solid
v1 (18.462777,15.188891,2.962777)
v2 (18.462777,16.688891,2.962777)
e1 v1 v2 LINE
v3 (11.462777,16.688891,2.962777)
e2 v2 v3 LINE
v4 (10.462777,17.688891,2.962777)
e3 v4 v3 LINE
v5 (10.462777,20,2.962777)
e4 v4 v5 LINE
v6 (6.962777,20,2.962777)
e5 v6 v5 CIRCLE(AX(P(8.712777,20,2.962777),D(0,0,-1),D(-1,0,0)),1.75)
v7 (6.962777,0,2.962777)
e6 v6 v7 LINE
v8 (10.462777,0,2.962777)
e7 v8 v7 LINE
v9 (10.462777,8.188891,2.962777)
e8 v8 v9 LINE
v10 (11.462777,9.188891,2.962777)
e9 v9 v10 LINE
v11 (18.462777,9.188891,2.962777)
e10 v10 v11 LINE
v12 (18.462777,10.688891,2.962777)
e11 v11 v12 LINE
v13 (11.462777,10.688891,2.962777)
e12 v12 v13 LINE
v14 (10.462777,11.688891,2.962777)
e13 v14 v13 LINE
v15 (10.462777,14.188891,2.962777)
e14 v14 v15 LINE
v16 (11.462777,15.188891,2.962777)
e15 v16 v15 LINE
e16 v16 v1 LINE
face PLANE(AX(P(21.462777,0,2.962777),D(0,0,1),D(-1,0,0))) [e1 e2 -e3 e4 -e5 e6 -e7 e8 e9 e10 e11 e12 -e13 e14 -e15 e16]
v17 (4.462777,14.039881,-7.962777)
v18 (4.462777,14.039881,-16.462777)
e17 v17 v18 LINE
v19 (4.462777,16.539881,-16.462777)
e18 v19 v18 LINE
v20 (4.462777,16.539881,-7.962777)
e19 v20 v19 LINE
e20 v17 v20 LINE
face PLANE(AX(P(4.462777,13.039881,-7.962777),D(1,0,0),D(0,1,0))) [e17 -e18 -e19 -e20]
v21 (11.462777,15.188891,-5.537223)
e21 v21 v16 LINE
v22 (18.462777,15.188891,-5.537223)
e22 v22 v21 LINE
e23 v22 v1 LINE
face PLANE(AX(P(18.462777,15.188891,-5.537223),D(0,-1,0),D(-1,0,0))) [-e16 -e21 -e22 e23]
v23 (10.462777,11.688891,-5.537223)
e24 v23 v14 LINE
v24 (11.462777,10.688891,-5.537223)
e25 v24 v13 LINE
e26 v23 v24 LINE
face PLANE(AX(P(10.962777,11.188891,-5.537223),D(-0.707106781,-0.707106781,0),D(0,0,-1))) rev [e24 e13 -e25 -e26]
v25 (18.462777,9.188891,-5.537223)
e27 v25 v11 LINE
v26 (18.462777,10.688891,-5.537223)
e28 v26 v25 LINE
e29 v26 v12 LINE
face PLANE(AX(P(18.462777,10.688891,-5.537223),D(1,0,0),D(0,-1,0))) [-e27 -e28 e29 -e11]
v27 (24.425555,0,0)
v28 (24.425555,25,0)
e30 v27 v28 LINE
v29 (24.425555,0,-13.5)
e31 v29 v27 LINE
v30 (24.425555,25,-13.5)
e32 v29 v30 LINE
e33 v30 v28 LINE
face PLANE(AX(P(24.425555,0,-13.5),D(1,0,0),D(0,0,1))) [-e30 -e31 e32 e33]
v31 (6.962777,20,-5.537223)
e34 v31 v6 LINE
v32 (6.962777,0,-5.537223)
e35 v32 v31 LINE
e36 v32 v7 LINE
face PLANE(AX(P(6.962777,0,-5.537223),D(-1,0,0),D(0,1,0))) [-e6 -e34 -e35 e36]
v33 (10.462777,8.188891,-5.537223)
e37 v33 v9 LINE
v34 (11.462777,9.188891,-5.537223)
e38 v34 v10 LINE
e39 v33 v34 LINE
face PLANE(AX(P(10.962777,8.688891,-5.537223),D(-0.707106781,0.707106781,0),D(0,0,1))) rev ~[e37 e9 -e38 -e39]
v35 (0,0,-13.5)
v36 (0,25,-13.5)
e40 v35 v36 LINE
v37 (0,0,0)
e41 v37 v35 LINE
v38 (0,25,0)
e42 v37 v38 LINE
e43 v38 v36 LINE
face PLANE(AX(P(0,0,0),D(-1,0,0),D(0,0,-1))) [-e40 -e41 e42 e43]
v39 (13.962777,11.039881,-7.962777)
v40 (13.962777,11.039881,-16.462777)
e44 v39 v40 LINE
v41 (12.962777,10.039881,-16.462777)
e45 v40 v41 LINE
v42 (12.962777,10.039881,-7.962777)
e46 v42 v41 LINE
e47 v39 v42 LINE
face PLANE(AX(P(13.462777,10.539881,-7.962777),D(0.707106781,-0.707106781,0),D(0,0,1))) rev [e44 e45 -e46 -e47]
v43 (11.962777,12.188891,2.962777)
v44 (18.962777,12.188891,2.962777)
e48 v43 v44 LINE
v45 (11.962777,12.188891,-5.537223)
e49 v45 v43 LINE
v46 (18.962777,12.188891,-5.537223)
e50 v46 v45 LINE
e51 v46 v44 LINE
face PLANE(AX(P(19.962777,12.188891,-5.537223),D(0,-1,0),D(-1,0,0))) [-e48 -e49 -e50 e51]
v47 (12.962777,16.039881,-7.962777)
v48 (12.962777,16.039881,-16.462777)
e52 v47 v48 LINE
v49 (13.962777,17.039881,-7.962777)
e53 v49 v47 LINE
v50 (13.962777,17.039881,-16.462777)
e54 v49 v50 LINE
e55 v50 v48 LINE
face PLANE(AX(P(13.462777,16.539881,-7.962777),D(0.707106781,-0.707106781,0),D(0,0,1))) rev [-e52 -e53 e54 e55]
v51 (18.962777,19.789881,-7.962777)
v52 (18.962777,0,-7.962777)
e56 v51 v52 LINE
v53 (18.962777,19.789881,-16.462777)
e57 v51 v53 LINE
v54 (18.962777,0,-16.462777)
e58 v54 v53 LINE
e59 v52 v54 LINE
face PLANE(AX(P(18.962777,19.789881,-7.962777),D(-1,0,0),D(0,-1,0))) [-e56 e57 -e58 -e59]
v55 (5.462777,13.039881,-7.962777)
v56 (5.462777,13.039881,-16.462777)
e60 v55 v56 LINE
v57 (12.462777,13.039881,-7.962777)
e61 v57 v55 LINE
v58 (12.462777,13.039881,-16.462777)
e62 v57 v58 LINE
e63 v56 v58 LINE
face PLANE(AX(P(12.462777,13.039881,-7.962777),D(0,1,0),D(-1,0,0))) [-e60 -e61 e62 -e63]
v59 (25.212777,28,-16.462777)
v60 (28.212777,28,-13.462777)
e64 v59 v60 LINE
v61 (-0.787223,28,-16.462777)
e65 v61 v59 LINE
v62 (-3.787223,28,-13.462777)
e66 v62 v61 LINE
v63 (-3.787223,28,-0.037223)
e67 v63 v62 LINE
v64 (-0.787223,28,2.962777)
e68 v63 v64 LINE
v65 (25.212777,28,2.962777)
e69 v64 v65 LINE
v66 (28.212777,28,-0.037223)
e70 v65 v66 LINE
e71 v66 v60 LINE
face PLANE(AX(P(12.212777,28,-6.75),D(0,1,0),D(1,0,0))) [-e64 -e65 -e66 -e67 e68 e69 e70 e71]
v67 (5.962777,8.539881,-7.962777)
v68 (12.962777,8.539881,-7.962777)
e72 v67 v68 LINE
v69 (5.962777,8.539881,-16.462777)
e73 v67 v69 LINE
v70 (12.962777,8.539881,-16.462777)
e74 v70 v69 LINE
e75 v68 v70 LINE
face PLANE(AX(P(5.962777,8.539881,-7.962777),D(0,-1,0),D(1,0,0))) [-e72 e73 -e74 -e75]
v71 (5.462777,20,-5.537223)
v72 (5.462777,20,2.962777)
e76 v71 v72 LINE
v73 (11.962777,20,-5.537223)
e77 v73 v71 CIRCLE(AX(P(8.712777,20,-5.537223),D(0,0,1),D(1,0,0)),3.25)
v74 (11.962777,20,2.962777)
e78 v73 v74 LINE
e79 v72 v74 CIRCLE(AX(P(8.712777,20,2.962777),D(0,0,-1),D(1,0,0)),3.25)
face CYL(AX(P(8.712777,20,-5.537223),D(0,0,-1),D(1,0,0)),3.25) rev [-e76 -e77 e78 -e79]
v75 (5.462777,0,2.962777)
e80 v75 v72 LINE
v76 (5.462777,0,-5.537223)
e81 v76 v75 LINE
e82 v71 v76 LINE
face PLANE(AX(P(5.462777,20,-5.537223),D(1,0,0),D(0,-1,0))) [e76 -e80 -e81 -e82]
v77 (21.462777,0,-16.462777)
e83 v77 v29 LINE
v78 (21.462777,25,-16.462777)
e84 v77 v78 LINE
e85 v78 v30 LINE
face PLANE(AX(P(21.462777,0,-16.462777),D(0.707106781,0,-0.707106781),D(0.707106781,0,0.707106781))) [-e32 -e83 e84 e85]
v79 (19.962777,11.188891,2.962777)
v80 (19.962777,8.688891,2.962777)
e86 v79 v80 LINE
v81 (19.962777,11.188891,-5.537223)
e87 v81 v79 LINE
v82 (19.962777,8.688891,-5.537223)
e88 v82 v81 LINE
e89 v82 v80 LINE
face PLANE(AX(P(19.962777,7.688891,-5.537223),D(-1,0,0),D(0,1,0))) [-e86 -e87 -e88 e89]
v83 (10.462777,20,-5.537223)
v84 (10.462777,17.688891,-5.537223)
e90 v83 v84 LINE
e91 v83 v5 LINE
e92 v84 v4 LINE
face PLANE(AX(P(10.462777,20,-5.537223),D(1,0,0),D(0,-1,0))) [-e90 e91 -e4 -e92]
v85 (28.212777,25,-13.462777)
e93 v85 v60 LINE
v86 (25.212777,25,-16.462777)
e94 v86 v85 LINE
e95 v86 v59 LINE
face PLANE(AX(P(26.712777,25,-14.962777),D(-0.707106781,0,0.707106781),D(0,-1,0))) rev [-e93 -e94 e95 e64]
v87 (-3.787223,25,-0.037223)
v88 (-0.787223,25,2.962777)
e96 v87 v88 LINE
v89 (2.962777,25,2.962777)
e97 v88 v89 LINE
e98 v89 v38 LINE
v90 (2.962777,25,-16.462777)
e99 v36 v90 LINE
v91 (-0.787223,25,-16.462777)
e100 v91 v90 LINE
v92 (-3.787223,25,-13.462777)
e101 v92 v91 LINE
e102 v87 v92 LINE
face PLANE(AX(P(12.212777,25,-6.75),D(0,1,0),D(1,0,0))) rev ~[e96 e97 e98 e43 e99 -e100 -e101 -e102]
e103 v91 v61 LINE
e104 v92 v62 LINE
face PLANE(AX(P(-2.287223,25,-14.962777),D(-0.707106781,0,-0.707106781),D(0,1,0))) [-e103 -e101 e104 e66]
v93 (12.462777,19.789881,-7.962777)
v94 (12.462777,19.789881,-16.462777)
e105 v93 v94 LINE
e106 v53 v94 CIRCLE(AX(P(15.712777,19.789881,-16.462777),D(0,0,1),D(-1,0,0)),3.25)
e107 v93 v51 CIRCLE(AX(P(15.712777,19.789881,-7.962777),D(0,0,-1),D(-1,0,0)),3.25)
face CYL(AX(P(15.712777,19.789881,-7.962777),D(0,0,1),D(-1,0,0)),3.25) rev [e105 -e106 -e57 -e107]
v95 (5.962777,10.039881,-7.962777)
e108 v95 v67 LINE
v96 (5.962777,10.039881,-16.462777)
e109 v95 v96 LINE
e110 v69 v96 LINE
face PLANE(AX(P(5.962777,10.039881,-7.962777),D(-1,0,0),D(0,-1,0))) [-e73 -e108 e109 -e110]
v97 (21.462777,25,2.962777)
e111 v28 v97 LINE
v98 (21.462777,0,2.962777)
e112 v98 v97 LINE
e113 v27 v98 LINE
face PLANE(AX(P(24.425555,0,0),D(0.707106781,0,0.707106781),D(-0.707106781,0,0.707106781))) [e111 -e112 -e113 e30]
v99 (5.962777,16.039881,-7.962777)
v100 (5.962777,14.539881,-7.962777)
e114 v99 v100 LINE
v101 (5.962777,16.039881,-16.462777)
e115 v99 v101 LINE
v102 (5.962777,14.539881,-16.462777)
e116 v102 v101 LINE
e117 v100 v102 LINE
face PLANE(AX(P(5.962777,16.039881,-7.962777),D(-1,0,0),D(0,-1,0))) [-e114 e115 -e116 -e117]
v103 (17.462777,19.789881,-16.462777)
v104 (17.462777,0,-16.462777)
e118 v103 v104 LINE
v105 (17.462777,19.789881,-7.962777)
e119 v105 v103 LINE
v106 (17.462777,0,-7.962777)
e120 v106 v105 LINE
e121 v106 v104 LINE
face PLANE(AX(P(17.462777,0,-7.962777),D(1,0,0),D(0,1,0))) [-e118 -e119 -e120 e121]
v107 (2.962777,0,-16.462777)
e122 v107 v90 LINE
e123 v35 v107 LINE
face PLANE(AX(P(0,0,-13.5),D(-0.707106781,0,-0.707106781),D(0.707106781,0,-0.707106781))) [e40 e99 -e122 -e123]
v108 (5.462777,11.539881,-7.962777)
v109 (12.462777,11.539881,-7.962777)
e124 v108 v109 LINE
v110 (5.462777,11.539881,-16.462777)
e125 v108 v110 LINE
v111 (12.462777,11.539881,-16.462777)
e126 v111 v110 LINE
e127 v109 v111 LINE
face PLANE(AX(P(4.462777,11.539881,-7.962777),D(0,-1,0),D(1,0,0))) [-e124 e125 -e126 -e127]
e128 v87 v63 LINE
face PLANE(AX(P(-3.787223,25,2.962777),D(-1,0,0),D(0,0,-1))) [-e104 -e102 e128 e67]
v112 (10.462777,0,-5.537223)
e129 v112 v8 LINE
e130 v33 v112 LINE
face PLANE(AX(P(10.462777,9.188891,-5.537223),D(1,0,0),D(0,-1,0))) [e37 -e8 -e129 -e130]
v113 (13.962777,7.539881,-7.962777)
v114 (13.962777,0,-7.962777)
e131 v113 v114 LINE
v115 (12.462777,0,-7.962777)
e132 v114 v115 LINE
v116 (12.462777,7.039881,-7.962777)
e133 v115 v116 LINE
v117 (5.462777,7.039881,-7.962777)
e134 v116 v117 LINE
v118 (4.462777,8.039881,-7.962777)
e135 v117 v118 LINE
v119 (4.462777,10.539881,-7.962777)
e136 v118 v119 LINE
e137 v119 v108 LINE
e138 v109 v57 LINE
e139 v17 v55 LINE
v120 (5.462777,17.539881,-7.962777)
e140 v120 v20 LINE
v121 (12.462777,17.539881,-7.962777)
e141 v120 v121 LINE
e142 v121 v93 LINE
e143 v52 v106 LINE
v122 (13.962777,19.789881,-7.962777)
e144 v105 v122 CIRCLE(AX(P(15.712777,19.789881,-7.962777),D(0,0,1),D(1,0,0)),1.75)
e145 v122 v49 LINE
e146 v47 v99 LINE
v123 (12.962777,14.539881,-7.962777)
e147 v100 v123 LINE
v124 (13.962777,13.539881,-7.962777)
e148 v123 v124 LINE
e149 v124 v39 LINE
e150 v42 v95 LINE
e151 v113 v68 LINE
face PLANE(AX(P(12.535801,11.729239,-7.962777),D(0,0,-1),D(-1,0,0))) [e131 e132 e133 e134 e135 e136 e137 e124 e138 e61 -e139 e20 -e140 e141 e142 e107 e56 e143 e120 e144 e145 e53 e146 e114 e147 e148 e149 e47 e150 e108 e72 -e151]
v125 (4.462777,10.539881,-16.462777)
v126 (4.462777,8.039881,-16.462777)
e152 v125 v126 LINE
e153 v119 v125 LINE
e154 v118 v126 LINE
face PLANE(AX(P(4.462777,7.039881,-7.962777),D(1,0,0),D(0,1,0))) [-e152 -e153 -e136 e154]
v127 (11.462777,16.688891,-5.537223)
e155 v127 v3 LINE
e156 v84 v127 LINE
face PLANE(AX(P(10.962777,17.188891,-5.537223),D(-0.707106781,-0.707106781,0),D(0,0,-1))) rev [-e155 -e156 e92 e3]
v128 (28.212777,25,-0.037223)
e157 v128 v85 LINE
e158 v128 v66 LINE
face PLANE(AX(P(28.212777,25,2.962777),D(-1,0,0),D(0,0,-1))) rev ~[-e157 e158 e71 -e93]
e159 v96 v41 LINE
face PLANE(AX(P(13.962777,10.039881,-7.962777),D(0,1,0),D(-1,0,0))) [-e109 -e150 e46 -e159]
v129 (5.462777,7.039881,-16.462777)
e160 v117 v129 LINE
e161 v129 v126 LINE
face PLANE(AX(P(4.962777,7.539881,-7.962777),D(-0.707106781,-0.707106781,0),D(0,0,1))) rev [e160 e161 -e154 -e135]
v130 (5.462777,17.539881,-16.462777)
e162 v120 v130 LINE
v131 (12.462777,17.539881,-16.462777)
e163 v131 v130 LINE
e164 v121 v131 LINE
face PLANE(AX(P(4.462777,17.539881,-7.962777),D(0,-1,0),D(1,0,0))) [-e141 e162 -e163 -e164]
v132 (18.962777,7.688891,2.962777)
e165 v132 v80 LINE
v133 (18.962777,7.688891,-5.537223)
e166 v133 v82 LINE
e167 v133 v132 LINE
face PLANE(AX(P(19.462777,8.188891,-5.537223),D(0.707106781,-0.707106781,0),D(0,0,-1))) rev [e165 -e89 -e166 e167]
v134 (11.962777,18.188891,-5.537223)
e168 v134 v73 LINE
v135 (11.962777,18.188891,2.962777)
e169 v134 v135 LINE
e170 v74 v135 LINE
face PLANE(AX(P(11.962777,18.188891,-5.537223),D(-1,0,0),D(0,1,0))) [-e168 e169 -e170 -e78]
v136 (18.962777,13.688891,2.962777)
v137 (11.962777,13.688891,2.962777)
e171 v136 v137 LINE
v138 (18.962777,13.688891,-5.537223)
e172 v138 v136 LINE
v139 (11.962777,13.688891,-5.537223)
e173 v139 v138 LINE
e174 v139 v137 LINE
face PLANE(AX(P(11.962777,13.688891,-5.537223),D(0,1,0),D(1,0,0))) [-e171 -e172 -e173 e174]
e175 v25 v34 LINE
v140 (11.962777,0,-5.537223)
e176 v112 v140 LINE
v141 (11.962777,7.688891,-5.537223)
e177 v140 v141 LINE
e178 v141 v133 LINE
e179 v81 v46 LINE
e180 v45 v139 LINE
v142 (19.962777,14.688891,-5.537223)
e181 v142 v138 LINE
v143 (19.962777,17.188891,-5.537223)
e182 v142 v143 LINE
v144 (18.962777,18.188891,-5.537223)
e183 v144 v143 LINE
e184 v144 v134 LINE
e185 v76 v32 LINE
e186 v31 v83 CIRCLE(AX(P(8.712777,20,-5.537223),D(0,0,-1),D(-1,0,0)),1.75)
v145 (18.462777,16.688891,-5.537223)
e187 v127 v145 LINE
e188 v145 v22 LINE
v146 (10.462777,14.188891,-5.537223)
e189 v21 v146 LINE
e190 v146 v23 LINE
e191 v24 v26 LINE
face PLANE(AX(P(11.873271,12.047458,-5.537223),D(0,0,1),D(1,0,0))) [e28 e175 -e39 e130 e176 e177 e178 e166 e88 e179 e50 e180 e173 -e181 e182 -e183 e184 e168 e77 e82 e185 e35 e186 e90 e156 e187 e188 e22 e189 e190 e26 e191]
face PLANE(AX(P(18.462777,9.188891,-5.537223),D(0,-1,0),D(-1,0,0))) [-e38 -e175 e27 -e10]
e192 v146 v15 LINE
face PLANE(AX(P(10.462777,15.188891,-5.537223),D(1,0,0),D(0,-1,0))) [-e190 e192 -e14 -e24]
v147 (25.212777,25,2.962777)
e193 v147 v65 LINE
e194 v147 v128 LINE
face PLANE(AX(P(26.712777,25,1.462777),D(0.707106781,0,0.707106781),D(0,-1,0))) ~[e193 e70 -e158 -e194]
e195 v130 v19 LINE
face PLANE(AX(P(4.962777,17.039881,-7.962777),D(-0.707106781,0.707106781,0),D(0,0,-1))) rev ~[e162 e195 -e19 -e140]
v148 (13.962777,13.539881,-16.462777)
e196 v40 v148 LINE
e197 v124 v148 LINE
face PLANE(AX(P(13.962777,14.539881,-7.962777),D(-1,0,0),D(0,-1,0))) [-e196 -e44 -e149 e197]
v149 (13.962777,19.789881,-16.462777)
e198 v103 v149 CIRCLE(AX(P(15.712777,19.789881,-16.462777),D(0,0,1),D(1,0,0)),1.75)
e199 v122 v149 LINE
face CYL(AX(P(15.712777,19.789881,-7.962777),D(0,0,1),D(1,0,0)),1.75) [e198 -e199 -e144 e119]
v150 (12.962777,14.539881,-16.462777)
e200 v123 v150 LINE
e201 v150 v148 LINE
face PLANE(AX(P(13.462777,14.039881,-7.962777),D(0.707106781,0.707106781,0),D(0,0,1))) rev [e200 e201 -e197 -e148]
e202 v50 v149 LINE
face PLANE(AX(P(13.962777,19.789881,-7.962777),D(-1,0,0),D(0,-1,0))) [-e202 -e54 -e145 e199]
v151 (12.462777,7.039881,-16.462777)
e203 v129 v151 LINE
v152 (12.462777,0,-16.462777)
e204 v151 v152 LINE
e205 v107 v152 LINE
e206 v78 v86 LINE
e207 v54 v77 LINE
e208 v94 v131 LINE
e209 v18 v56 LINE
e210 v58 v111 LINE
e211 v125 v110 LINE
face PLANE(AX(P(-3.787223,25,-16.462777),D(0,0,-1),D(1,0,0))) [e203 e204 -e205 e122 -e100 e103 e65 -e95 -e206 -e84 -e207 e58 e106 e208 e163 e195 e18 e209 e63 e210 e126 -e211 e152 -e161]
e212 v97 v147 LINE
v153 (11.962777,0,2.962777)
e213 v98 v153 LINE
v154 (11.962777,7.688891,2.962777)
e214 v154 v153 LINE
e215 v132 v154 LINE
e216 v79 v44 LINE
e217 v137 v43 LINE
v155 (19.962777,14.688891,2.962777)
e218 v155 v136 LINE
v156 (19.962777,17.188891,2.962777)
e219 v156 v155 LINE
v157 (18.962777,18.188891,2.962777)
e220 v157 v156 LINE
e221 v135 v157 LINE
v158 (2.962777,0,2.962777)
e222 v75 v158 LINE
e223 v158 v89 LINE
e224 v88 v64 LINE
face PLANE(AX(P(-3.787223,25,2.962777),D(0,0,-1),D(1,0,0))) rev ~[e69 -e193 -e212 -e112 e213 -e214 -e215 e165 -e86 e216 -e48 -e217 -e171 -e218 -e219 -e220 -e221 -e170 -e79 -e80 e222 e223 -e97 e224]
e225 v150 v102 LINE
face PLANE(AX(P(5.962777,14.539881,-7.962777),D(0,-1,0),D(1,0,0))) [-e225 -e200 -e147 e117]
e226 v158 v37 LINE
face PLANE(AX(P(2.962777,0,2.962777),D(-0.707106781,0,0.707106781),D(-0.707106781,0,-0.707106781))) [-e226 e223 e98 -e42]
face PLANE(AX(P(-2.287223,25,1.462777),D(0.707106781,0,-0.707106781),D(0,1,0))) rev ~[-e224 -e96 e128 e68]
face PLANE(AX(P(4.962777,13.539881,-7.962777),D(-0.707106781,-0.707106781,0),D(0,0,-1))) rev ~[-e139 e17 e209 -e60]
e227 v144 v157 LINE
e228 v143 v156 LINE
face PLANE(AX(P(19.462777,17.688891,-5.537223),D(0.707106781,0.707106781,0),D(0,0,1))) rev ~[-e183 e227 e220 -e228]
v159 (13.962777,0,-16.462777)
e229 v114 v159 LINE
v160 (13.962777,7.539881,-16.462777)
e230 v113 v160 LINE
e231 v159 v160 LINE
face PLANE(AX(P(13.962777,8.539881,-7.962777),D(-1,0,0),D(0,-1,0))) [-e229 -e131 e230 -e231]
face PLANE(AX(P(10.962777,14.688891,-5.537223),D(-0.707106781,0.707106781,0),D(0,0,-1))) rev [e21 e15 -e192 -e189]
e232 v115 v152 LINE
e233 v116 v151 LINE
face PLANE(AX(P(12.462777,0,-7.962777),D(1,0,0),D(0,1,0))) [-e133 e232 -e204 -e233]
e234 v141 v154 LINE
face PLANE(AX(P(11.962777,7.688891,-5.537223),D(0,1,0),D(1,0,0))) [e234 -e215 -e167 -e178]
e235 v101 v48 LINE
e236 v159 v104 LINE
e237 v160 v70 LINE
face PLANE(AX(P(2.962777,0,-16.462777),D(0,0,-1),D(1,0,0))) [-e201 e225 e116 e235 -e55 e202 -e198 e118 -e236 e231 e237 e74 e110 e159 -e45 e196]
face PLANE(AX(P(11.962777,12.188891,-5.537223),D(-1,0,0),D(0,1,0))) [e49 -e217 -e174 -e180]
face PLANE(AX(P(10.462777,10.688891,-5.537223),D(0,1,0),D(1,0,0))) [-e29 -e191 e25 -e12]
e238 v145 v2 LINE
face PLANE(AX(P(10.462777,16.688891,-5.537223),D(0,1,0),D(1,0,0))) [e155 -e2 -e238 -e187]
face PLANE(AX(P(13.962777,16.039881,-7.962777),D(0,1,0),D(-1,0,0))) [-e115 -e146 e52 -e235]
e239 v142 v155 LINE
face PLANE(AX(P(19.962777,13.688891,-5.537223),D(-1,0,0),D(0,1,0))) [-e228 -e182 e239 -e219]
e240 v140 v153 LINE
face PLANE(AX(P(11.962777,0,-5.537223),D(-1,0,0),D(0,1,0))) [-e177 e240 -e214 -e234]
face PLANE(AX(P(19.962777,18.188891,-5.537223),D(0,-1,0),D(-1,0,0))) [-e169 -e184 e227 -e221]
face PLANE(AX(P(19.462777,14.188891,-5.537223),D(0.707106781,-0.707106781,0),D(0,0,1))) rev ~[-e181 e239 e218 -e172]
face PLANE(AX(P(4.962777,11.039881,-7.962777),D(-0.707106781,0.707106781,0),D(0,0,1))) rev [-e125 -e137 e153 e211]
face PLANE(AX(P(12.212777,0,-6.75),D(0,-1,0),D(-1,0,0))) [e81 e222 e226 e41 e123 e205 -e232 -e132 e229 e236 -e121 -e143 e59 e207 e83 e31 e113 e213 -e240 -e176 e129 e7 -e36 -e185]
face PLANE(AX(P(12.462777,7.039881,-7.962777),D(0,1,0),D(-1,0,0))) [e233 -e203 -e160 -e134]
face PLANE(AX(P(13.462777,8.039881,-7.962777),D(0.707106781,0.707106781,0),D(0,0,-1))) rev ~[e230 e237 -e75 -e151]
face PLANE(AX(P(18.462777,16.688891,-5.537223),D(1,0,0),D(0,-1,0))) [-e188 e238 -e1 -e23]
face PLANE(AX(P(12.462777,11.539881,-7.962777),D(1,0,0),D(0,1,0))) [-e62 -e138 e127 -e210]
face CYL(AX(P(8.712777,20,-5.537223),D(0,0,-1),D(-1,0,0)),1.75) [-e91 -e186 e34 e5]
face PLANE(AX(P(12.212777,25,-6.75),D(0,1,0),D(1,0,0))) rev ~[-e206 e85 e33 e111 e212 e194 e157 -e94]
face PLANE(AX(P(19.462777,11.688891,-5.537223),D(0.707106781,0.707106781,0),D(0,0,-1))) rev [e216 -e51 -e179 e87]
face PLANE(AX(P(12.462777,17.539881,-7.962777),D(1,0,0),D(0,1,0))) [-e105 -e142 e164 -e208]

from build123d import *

# Parameters (mm, degrees)
BOSS_EXTRUDE1_DEPTH          = 25
CUT_EXTRUDE_THIN1_DEPTH      = 40.986996748
CUT_EXTRUDE_THIN1_DEPTH_BACK = 8.5
CUT_EXTRUDE_THIN3_DEPTH      = 40.986996748
CUT_EXTRUDE_THIN3_DEPTH_BACK = 8.5
SKETCH5_W                    = 32
SKETCH5_H                    = 19.425554826
BOSS_EXTRUDE2_DEPTH          = 3
CHAMFER3_SIZE                = 3
CHAMFER4_SIZE                = 1


with BuildPart() as part:
    # Sketch2 → Boss-Extrude1 (new body)
    with BuildSketch(Plane(origin=(0, 0, 0), x_dir=(1, 0, 0), z_dir=(0, 1, 0))):
        Polygon((0, 0), (0, 13.5), (2.962777413, 16.462777413), (21.462777413, 16.462777413), (24.425554826, 13.5), (24.425554826, 0), (21.462777413, -2.962777413), (2.962777413, -2.962777413), align=None)
    extrude(amount=BOSS_EXTRUDE1_DEPTH)

    # Sketch3 → Cut-Extrude-Thin1 (cut, two sides: drawn at the far end of the back side and taken through both)
    with BuildSketch(Plane.XY.offset(2.962777413).offset(-CUT_EXTRUDE_THIN1_DEPTH_BACK)):
        with BuildLine():
            Line((6.962777413, 0), (6.962777413, 20))
            ThreePointArc((6.962777413, 20), (8.712777413, 21.75), (10.462777413, 20))
            Line((10.462777413, 20), (10.462777413, 16.688890745))
            Line((10.462777413, 16.688890745), (18.462777413, 16.688890745))
            Line((18.462777413, 16.688890745), (18.462777413, 15.188890745))
            Line((18.462777413, 15.188890745), (10.462777413, 15.188890745))
            Line((10.462777413, 15.188890745), (10.462777413, 10.688890745))
            Line((10.462777413, 10.688890745), (18.462777413, 10.688890745))
            Line((18.462777413, 10.688890745), (18.462777413, 9.188890745))
            Line((18.462777413, 9.188890745), (10.462777413, 9.188890745))
            Line((10.462777413, 9.188890745), (10.462777413, 0))
            Line((10.462777413, 0), (11.962777413, 0))
            Line((11.962777413, 0), (11.962777413, 7.688890745))
            Line((11.962777413, 7.688890745), (19.962777413, 7.688890745))
            Line((19.962777413, 7.688890745), (19.962777413, 12.188890745))
            Line((19.962777413, 12.188890745), (11.962777413, 12.188890745))
            Line((11.962777413, 12.188890745), (11.962777413, 13.688890745))
            Line((11.962777413, 13.688890745), (19.962777413, 13.688890745))
            Line((19.962777413, 13.688890745), (19.962777413, 18.188890745))
            Line((19.962777413, 18.188890745), (11.962777413, 18.188890745))
            Line((11.962777413, 18.188890745), (11.962777413, 20))
            ThreePointArc((11.962777413, 20), (8.712777413, 23.25), (5.462777413, 20))
            Line((5.462777413, 20), (5.462777413, 0))
            Line((5.462777413, 0), (6.962777413, 0))
        make_face()
    extrude(amount=CUT_EXTRUDE_THIN1_DEPTH + CUT_EXTRUDE_THIN1_DEPTH_BACK, mode=Mode.SUBTRACT)

    # Sketch4 → Cut-Extrude-Thin3 (cut, two sides: drawn at the far end of the back side and taken through both)
    with BuildSketch(Plane(origin=(0, 0, -16.462777413), x_dir=(-1, 0, 0), z_dir=(0, 0, -1)).offset(-CUT_EXTRUDE_THIN3_DEPTH_BACK)):
        with BuildLine():
            Line((-17.462777413, 0), (-17.462777413, 19.789881458))
            ThreePointArc((-17.462777413, 19.789881458), (-15.712777413, 21.539881458), (-13.962777413, 19.789881458))
            Line((-13.962777413, 19.789881458), (-13.962777413, 16.039881458))
            Line((-13.962777413, 16.039881458), (-5.962777413, 16.039881458))
            Line((-5.962777413, 16.039881458), (-5.962777413, 14.539881458))
            Line((-5.962777413, 14.539881458), (-13.962777413, 14.539881458))
            Line((-13.962777413, 14.539881458), (-13.962777413, 10.039881458))
            Line((-13.962777413, 10.039881458), (-5.962777413, 10.039881458))
            Line((-5.962777413, 10.039881458), (-5.962777413, 8.539881458))
            Line((-5.962777413, 8.539881458), (-13.962777413, 8.539881458))
            Line((-13.962777413, 8.539881458), (-13.962777413, 0))
            Line((-13.962777413, 0), (-12.462777413, 0))
            Line((-12.462777413, 0), (-12.462777413, 7.039881458))
            Line((-12.462777413, 7.039881458), (-4.462777413, 7.039881458))
            Line((-4.462777413, 7.039881458), (-4.462777413, 11.539881458))
            Line((-4.462777413, 11.539881458), (-12.462777413, 11.539881458))
            Line((-12.462777413, 11.539881458), (-12.462777413, 13.039881458))
            Line((-12.462777413, 13.039881458), (-4.462777413, 13.039881458))
            Line((-4.462777413, 13.039881458), (-4.462777413, 17.539881458))
            Line((-4.462777413, 17.539881458), (-12.462777413, 17.539881458))
            Line((-12.462777413, 17.539881458), (-12.462777413, 19.789881458))
            ThreePointArc((-12.462777413, 19.789881458), (-15.712777413, 23.039881458), (-18.962777413, 19.789881458))
            Line((-18.962777413, 19.789881458), (-18.962777413, 0))
            Line((-18.962777413, 0), (-17.462777413, 0))
        make_face()
    extrude(amount=CUT_EXTRUDE_THIN3_DEPTH + CUT_EXTRUDE_THIN3_DEPTH_BACK, mode=Mode.SUBTRACT)

    # Sketch5 → Boss-Extrude2 (add)
    with BuildSketch(Plane(origin=(0, 25, 0), x_dir=(1, 0, 0), z_dir=(0, 1, 0))):
        with Locations((12.212777413, 6.75)):
            Rectangle(SKETCH5_W, SKETCH5_H)
    extrude(amount=BOSS_EXTRUDE2_DEPTH)

    # Chamfer3
    chamfer3_edges = [part.edges().sort_by_distance(p)[0] for p in [
        (28.212777413, 26.5, 2.962777413),
        (28.212777413, 26.5, -16.462777413),
        (-3.787222587, 26.5, -16.462777413),
        (-3.787222587, 26.5, 2.962777413),
    ]]
    chamfer(chamfer3_edges, length=CHAMFER3_SIZE)

    # Chamfer4
    chamfer4_edges = [part.edges().sort_by_distance(p)[0] for p in [
        (13.962777413, 8.539881458, -12.212777413),
        (4.462777413, 7.039881458, -12.212777413),
        (4.462777413, 11.539881458, -12.212777413),
        (4.462777413, 13.039881458, -12.212777413),
        (4.462777413, 17.539881458, -12.212777413),
        (13.962777413, 16.039881458, -12.212777413),
        (13.962777413, 14.539881458, -12.212777413),
        (13.962777413, 10.039881458, -12.212777413),
        (19.962777413, 7.688890745, -1.287222587),
        (19.962777413, 12.188890745, -1.287222587),
        (19.962777413, 13.688890745, -1.287222587),
        (19.962777413, 18.188890745, -1.287222587),
        (10.462777413, 16.688890745, -1.287222587),
        (10.462777413, 15.188890745, -1.287222587),
        (10.462777413, 10.688890745, -1.287222587),
        (10.462777413, 9.188890745, -1.287222587),
    ]]
    chamfer(chamfer4_edges, length=CHAMFER4_SIZE)


solid = part.part
